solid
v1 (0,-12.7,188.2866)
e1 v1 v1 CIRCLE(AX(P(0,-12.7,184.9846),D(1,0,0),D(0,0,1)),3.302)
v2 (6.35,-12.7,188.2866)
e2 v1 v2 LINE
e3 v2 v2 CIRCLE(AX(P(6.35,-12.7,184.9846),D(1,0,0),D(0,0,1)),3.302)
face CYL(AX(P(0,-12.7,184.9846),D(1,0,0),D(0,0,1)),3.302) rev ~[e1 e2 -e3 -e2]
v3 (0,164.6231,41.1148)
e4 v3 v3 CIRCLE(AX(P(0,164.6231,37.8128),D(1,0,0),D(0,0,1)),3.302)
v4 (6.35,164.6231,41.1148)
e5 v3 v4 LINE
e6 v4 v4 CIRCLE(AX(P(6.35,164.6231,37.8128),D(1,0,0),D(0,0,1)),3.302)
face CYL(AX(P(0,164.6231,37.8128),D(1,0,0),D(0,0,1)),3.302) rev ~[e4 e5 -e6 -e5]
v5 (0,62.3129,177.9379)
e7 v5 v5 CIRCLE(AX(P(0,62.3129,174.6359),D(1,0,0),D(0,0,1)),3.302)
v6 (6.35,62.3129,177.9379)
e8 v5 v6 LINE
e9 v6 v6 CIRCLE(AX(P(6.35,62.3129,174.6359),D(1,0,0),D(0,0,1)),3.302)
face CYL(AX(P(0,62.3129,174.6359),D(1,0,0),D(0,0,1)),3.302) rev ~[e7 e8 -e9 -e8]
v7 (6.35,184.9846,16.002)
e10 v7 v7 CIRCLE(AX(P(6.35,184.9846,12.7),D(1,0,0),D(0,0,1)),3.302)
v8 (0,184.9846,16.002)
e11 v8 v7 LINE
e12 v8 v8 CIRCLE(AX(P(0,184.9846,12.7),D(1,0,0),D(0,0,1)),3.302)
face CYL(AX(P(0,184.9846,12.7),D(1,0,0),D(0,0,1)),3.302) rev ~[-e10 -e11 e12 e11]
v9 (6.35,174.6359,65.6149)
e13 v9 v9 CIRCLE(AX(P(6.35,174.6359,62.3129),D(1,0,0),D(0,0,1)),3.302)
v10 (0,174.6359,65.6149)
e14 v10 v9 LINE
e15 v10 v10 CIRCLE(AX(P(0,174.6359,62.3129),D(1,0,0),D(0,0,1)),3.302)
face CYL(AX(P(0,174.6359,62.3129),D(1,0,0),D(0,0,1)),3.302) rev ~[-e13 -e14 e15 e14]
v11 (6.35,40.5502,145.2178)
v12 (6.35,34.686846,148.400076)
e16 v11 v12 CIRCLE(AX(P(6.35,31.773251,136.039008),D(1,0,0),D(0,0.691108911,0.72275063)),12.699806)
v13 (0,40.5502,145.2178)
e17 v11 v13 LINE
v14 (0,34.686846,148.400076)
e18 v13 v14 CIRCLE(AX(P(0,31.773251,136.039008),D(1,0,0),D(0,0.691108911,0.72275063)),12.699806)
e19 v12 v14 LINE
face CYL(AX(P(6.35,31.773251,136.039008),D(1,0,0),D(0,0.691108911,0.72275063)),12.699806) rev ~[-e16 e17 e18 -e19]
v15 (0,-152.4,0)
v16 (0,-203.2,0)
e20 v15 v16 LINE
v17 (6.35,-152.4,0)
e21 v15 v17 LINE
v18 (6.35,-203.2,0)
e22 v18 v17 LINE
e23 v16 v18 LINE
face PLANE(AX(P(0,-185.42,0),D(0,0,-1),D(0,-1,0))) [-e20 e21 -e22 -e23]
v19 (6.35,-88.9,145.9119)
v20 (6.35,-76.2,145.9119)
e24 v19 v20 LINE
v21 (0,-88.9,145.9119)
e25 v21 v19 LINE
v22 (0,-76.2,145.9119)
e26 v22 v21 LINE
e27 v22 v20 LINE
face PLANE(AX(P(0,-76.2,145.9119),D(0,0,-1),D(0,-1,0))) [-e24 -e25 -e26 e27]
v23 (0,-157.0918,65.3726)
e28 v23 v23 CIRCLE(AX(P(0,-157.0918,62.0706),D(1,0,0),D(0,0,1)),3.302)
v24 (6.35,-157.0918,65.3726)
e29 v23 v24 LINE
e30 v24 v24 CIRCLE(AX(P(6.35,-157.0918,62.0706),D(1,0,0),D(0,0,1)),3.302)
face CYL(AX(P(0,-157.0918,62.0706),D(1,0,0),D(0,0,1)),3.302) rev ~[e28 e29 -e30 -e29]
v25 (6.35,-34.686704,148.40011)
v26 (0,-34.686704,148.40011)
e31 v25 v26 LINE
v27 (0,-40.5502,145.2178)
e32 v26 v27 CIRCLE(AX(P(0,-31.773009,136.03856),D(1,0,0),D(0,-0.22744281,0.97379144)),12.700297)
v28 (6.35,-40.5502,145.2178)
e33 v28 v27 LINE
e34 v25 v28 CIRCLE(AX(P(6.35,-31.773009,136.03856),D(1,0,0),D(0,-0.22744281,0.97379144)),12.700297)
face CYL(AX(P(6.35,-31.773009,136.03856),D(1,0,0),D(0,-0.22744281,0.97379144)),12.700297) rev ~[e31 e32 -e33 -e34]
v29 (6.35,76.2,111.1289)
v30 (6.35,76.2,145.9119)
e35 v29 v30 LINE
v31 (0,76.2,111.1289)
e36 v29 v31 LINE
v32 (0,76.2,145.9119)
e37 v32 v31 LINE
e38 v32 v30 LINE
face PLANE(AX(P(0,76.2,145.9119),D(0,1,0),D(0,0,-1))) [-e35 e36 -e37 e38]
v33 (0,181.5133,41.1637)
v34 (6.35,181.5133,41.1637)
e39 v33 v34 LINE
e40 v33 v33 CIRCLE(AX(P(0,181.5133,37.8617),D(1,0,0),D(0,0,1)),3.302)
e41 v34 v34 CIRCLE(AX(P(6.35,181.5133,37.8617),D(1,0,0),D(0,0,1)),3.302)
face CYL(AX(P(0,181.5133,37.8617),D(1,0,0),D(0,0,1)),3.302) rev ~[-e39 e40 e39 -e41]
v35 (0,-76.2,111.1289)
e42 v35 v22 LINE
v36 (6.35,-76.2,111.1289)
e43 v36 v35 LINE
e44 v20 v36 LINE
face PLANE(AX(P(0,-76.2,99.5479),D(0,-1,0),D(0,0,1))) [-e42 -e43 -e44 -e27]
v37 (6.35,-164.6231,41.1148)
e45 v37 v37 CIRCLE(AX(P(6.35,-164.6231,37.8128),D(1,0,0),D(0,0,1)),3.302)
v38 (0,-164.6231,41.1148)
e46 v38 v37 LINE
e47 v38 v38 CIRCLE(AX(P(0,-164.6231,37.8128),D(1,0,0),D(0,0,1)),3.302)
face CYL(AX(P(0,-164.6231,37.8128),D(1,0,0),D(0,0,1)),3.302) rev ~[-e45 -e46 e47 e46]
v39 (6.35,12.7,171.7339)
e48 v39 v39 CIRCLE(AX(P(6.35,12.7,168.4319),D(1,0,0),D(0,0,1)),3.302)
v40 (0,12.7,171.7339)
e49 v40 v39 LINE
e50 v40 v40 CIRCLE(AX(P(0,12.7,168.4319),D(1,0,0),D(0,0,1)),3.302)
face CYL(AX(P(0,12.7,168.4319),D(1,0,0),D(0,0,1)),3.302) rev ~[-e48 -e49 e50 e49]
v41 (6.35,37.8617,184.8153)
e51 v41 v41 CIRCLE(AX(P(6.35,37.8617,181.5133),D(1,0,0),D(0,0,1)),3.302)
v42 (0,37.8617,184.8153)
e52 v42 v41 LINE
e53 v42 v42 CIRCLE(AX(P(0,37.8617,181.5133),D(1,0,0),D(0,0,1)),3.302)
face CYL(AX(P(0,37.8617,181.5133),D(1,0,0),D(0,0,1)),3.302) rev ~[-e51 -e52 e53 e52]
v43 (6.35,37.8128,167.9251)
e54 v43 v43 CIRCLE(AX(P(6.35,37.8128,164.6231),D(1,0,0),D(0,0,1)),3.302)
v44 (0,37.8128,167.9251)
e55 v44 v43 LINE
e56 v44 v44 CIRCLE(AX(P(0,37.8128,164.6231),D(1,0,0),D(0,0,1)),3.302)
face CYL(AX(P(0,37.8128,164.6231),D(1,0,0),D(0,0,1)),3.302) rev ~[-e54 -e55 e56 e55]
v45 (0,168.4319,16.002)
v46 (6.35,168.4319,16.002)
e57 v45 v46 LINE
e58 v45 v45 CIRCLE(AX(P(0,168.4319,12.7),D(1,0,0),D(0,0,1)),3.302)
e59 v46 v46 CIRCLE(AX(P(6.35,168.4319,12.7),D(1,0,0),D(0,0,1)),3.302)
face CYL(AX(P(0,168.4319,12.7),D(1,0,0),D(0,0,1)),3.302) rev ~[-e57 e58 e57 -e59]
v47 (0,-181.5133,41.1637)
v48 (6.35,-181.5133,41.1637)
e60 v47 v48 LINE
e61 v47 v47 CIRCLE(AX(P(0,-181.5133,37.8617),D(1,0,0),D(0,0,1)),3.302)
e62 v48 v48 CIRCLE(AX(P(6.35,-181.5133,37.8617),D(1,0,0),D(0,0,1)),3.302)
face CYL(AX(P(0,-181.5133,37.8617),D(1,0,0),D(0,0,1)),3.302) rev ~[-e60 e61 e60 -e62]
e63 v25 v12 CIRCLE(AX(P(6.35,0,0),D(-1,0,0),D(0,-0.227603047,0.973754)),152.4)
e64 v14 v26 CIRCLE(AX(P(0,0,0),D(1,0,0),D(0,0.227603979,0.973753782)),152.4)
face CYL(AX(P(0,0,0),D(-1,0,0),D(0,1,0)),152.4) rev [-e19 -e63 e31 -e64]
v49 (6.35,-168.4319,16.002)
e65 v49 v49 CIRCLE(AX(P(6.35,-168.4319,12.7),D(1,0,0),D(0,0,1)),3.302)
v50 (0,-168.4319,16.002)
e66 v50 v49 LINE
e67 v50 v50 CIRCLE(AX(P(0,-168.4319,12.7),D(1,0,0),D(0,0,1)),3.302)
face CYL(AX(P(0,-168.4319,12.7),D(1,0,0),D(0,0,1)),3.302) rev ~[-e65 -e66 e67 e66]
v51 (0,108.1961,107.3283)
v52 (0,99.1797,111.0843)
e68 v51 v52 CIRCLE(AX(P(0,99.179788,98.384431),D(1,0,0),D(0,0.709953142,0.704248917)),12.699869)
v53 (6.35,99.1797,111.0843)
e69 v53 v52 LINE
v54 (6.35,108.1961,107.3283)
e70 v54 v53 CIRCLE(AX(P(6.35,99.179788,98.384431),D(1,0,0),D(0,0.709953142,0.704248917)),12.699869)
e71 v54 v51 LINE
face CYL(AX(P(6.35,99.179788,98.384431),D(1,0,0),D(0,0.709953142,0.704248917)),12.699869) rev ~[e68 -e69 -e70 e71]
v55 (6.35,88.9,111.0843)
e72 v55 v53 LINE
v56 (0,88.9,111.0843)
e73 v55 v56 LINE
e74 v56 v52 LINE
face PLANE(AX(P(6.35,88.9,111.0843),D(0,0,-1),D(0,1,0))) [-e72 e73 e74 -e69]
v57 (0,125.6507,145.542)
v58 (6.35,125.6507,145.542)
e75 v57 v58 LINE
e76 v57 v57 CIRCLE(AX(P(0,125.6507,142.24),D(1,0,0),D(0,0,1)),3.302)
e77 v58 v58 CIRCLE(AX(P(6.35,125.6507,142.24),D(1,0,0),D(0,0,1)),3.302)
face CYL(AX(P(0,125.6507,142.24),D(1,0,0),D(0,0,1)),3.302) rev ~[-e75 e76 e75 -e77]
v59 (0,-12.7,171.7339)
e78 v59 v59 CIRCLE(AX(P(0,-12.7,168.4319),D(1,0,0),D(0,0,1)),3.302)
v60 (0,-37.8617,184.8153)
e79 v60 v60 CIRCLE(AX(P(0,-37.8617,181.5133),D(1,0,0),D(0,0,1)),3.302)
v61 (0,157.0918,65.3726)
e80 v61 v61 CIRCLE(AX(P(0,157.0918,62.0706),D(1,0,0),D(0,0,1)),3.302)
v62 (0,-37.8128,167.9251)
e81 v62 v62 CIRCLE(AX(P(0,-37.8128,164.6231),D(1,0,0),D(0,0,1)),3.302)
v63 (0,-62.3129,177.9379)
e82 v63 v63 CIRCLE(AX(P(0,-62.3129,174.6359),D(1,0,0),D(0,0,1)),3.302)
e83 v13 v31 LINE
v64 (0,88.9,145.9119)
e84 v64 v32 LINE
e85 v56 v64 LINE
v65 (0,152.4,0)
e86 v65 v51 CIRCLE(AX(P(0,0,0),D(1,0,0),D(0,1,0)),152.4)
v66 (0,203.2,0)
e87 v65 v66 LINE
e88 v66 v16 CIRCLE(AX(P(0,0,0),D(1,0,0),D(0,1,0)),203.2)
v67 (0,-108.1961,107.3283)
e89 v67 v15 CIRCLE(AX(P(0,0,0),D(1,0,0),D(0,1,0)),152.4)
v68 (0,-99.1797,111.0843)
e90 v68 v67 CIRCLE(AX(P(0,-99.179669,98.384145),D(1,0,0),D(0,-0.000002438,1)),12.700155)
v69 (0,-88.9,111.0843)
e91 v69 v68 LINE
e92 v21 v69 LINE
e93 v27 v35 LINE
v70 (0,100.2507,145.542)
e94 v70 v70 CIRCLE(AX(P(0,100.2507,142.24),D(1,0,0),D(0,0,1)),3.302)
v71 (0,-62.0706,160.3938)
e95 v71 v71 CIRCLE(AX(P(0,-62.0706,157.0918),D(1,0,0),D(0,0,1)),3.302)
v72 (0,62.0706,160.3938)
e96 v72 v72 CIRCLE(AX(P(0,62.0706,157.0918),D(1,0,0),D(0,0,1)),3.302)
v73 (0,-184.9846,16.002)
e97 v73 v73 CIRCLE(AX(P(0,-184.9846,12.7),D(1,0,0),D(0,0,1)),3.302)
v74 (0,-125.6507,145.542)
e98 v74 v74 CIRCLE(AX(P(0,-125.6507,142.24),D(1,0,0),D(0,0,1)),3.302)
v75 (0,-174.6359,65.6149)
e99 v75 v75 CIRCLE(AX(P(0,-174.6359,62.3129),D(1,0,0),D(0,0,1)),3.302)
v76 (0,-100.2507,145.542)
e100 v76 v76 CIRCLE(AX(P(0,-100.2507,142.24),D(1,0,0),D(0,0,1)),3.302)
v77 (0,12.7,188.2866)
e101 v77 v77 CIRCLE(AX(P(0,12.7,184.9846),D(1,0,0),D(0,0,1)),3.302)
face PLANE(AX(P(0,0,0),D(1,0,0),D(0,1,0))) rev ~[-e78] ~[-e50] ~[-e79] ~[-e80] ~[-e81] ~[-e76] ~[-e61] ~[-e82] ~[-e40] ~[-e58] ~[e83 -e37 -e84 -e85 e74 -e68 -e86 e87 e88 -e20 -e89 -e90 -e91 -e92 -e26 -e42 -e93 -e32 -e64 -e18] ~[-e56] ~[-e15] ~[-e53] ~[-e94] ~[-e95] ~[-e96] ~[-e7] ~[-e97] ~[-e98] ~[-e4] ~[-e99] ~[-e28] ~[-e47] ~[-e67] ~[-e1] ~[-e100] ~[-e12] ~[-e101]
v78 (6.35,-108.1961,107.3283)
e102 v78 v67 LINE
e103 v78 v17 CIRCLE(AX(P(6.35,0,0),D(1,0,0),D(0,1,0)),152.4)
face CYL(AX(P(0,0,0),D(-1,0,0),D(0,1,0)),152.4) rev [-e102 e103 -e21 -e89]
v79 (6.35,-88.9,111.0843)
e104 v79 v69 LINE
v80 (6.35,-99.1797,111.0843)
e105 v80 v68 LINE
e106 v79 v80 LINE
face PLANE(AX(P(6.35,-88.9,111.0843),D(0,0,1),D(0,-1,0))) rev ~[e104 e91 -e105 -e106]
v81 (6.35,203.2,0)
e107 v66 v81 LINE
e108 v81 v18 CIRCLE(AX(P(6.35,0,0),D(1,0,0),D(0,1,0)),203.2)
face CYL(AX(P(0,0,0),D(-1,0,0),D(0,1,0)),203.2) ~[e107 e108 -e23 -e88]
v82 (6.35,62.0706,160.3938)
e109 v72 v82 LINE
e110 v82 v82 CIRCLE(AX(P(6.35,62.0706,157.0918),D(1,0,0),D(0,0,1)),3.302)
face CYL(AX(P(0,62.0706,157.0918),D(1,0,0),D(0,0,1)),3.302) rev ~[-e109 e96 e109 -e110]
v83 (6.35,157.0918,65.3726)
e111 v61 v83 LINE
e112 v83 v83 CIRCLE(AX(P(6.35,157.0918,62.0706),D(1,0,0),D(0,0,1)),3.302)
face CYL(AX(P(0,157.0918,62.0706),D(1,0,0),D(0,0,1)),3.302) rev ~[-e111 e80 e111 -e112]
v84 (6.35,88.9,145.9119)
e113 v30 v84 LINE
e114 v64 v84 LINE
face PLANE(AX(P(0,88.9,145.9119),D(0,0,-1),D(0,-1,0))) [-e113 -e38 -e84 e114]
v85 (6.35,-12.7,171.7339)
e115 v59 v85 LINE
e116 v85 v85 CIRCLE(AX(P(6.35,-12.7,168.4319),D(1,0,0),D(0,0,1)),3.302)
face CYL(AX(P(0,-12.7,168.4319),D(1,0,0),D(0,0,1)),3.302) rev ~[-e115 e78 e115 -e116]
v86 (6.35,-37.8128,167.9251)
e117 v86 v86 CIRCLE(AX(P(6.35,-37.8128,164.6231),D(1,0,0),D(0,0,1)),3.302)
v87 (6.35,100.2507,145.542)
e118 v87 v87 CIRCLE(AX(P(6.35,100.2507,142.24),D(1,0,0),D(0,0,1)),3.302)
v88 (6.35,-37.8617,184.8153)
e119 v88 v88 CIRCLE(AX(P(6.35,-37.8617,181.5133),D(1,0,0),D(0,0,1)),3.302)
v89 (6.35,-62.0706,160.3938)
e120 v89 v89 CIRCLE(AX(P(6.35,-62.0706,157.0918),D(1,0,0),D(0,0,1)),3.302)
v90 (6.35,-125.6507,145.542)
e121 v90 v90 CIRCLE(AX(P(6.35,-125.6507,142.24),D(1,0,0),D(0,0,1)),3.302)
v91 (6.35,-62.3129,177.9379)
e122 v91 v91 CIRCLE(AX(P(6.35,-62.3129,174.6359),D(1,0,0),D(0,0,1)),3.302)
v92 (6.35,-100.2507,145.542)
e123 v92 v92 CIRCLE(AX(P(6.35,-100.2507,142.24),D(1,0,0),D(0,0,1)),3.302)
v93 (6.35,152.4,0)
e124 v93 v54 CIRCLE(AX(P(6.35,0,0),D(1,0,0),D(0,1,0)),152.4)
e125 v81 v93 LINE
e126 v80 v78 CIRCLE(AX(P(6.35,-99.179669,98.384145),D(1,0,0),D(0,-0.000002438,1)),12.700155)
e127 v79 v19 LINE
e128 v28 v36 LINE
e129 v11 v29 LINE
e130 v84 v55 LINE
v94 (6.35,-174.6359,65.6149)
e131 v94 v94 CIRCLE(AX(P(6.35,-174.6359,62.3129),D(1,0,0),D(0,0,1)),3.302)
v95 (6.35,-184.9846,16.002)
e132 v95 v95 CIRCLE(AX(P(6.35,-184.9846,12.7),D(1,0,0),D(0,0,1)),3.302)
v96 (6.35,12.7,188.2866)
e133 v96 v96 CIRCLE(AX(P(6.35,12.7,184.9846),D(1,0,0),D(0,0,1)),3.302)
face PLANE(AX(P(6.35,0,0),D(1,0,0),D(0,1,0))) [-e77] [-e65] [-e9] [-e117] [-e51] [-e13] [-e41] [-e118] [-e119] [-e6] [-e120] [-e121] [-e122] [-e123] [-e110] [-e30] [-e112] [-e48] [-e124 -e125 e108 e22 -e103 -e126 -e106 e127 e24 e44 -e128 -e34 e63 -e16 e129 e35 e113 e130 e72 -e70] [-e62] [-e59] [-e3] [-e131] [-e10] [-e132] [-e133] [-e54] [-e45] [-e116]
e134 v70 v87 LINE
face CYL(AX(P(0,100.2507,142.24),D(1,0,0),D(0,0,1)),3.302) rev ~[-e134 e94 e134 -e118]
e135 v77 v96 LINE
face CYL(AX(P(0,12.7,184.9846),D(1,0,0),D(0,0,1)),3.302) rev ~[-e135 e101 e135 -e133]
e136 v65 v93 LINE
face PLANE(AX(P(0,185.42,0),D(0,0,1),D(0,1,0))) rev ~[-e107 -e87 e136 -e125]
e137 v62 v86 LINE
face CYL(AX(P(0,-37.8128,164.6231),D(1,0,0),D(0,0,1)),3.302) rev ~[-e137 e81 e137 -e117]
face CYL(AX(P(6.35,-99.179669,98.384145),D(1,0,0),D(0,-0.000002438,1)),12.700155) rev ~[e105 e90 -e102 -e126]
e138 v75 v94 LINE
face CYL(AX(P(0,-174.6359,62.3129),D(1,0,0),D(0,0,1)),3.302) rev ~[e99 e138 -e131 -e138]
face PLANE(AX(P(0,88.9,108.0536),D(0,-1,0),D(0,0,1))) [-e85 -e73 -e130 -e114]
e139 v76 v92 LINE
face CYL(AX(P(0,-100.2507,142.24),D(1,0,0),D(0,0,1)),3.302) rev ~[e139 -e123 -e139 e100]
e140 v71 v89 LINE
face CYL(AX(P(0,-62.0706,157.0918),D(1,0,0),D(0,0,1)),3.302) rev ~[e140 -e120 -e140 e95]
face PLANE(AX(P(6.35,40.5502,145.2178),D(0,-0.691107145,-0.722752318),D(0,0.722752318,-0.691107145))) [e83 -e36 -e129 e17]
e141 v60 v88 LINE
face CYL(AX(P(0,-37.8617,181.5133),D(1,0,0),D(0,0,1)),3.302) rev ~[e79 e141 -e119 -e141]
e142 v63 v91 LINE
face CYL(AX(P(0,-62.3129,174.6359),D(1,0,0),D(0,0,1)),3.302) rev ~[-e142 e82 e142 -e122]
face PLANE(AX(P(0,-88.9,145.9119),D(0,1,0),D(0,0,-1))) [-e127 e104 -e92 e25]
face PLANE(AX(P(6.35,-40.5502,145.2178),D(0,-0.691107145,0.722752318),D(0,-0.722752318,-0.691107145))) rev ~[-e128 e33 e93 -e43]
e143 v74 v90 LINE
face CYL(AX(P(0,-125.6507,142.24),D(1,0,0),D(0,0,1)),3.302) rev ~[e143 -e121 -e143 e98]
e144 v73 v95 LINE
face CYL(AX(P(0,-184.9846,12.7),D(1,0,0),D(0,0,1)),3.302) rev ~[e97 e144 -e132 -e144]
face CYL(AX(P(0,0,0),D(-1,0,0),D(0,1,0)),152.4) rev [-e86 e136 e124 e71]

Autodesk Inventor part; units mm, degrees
ref_plane "YZ Plane" through (0, 0, 0) normal (1, 0, 0) x (0, 1, 0)
ref_plane "XZ Plane" through (0, 0, 0) normal (0, 1, 0) x (-1, 0, 0)
ref_plane "XY Plane" through (0, 0, 0) normal (0, 0, 1) x (1, 0, 0)
sketch "Sketch1" plane through (0, 0, 0) normal (1, 0, 0) x (0, 1, 0)
  arc A0 (203.2, 0) -> (-203.2, 0) centre (0, 0) ccw
  arc A1 (152.4, 0) -> (-152.4, 0) centre (0, 0) ccw
  arc A2 (185.42, 0) -> (-185.42, 0) centre (0, 0) ccw
  line L0 (0, 0) -> (152.4, 0) construction
  line L1 (0, 0) -> (220.2471, 220.2471) construction
  line L2 (0, 0) -> (-217.8171, 217.8171) construction
  line L3 (0, 0) -> (-152.4, 0) construction
  line L4 (203.2, 0) -> (418.8667, 0) construction
  line L5 (152.4, 0) -> (-185.42, 0)
  line L6 (-203.2, 0) -> (-272.3039, 0)
  line L7 (-185.42, 0) -> (-203.2, 0)
  line L8 (-152.4, 0) -> (-203.2, 0)
  line L9 (152.4, 0) -> (203.2, 0)
  arc A3 (168.91, 0) -> (-168.91, 0) centre (0, 0) ccw
  point P0 (181.5133, 37.8617)
  point P1 (184.9846, 12.7)
  point P2 (164.6231, 37.8128)
  point P3 (168.4319, 12.7)
  point P4 (174.6359, 62.3129)
  point P5 (157.0918, 62.0706)
  point P6 (37.8617, 181.5133)
  point P7 (12.7, 184.9846)
  point P8 (37.8128, 164.6231)
  point P9 (12.7, 168.4319)
  point P10 (62.3129, 174.6359)
  point P11 (62.0706, 157.0918)
  point P12 (-62.3129, 174.6359)
  point P13 (-37.8617, 181.5133)
  point P14 (-62.0706, 157.0918)
  point P15 (-37.8128, 164.6231)
  point P16 (-12.7, 168.4319)
  point P17 (-12.7, 184.9846)
  point P18 (-157.0918, 62.0706)
  point P19 (-174.6359, 62.3129)
  point P20 (-181.5133, 37.8617)
  point P21 (-164.6231, 37.8128)
  point P22 (-168.4319, 12.7)
  point P23 (-184.9846, 12.7)
  dimension "d0" = 406.4
  dimension "d2" = 304.8
  dimension "d3" = 370.84
  dimension "d5" = 50.8
  dimension "d6" = 25.4
  dimension "d7" = 25.4
  dimension "d8" = 12.7
  dimension "d9" = 12.7
  dimension "d10" = 25.4
  dimension "d11" = 25.4
  dimension "d12" = 45
  dimension "d13" = 45
extrude "Extrusion1" add sketch "Sketch1" along normal blind 6.35 contours L9 A2 L7 A0 | L9 A3 L5 A2 | L9 A1 L5 A3
hole "Hole1" at (0, 181.5133, 37.8617) at (0, 184.9846, 12.7) at (0, 164.6231, 37.8128) at (0, 168.4319, 12.7) at (0, 174.6359, 62.3129) at (0, 157.0918, 62.0706) at (0, 62.3129, 174.6359) at (0, 37.8617, 181.5133) at (0, 62.0706, 157.0918) at (0, 37.8128, 164.6231) at (0, 12.7, 168.4319) at (0, 12.7, 184.9846) at (0, -62.0706, 157.0918) at (0, -62.3129, 174.6359) at (0, -37.8617, 181.5133) at (0, -37.8128, 164.6231) at (0, -12.7, 168.4319) at (0, -12.7, 184.9846) at (0, -184.9846, 12.7) at (0, -168.4319, 12.7) at (0, -181.5133, 37.8617) at (0, -164.6231, 37.8128) at (0, -174.6359, 62.3129) at (0, -157.0918, 62.0706) direction (1, 0, 0) diameter 6.604 end through all
sketch "Sketch4" plane through (0, 0, 0) normal (-1, 0, 0) x (0, 0, 1)
  line L0 (127, 92.2547) -> (157.48, 92.2547) projected
  line L1 (157.48, 150.1234) -> (157.48, 92.2547) projected
  line L2 (143.2518, 198.5102) -> (157.48, 150.1234) projected
  arc A0 (143.2518, 198.5102) -> (131.3752, 213.4606) centre (118.8834, 191.3446) ccw projected
  line L3 (127, 215.9318) -> (131.3752, 213.4606) projected
  line L4 (127, 92.2547) -> (127, 215.9318) projected
  circle A1 centre (142.24, 125.6507) radius 3.302 projected
  circle A2 centre (142.24, 100.2507) radius 3.302 projected
  circle A3 centre (142.24, -100.2507) radius 3.302 projected
  circle A4 centre (-142.24, -100.2507) radius 3.302 projected
  circle A5 centre (-142.24, -125.6507) radius 3.302 projected
  circle A6 centre (142.24, -125.6507) radius 3.302 projected
  line L5 (114.3, -183.162) -> (127, -183.162) projected
  line L6 (127, -183.162) -> (163.2323, -141.3083) projected
  arc A7 (163.2323, -141.3083) -> (215.9, 0) centre (0, 0) ccw projected
  line L7 (152.4, 0) -> (215.9, 0) projected
  arc A8 (-152.4, 0) -> (152.4, 0) centre (0, 0) ccw projected
  line L8 (-215.9, 0) -> (-152.4, 0) projected
  arc A9 (-215.9, 0) -> (-163.2323, -141.3083) centre (0, 0) ccw projected
  line L9 (-163.2323, -141.3083) -> (-127, -183.162) projected
  line L10 (-127, -183.162) -> (-114.3, -183.162) projected
  line L11 (-114.3, -183.162) -> (-114.3, -195.862) projected
  line L12 (-114.3, -195.862) -> (-46.5518, -210.8216) projected
  arc A10 (-46.5518, -210.8216) -> (46.5518, -210.8216) centre (0, 0) ccw projected
  line L13 (46.5518, -210.8216) -> (114.3, -195.862) projected
  line L14 (114.3, -195.862) -> (114.3, -183.162) projected
  circle A11 centre (174.6359, -62.3129) radius 3.302 projected
  circle A12 centre (181.5133, -37.8617) radius 3.302 projected
  circle A13 centre (184.9846, -12.7) radius 3.302 projected
  circle A14 centre (12.7, -168.4319) radius 3.302 projected
  circle A15 centre (37.8617, -181.5133) radius 3.302 projected
  circle A16 centre (62.0706, -157.0918) radius 3.302 projected
  circle A17 centre (-12.7, -168.4319) radius 3.302 projected
  circle A18 centre (-62.0706, -157.0918) radius 3.302 projected
  circle A19 centre (-62.3129, -174.6359) radius 3.302 projected
  circle A20 centre (-174.6359, -62.3129) radius 3.302 projected
  circle A21 centre (-164.6231, -37.8128) radius 3.302 projected
  circle A22 centre (-181.5133, -37.8617) radius 3.302 projected
  circle A23 centre (-184.9846, -12.7) radius 3.302 projected
  circle A24 centre (-168.4319, -12.7) radius 3.302 projected
  circle A25 centre (-157.0918, -62.0706) radius 3.302 projected
  circle A26 centre (-37.8617, -181.5133) radius 3.302 projected
  circle A27 centre (-37.8128, -164.6231) radius 3.302 projected
  circle A28 centre (-12.7, -184.9846) radius 3.302 projected
  circle A29 centre (62.3129, -174.6359) radius 3.302 projected
  circle A30 centre (37.8128, -164.6231) radius 3.302 projected
  circle A31 centre (12.7, -184.9846) radius 3.302 projected
  circle A32 centre (168.4319, -12.7) radius 3.302 projected
  circle A33 centre (164.6231, -37.8128) radius 3.302 projected
  circle A34 centre (157.0918, -62.0706) radius 3.302 projected
  point P0 (0, 0)
hole "Hole4" at (0, -125.6507, 142.24) at (0, -100.2507, 142.24) at (0, 100.2507, 142.24) at (0, 125.6507, 142.24) direction (1, 0, 0) diameter 6.604 end through all
sketch "Sketch5" plane through (0, 0, 0) normal (-1, 0, 0) x (0, 0, 1)
  line L0 (-145.9119, -88.9) -> (-106.6761, -88.9)
  line L1 (-106.6761, -88.9) -> (-106.6761, -76.2)
  line L2 (-106.6761, -76.2) -> (-145.9119, -76.2)
  line L3 (-145.9119, -76.2) -> (-145.9119, -88.9)
  line L4 (145.9119, -88.9) -> (99.5479, -88.9)
  line L5 (99.5479, -88.9) -> (99.5479, -76.2)
  line L6 (99.5479, -76.2) -> (145.9119, -76.2)
  line L7 (145.9119, -76.2) -> (145.9119, -88.9)
  line L8 (145.9119, 88.9) -> (145.9119, 76.2) projected
  line L9 (145.9119, 76.2) -> (108.0536, 76.2)
  line L10 (108.0536, 76.2) -> (108.0536, 88.9)
  line L11 (108.0536, 88.9) -> (145.9119, 88.9)
  line L12 (145.9119, 88.9) -> (145.9119, 76.2)
  point P0 (0, 0)
extrude "Extrusion3" cut sketch "Sketch5" against normal blind 25.4 contours L4 L5 L6 L7 | L8 L9 L10 L11
sketch "Sketch6" plane through (6.35, 0, 0) normal (1, 0, 0) x (0, 0, -1)
  circle A0 centre (-157.0918, 62.0706) radius 3.302 projected
  circle A1 centre (-164.6231, 37.8128) radius 3.302 projected
  circle A2 centre (-168.4319, 12.7) radius 3.302 projected
  circle A3 centre (-12.7, 184.9846) radius 3.302 projected
  circle A4 centre (-37.8128, 164.6231) radius 3.302 projected
  circle A5 centre (-62.3129, 174.6359) radius 3.302 projected
  circle A6 centre (12.7, 184.9846) radius 3.302 projected
  circle A7 centre (37.8128, 164.6231) radius 3.302 projected
  circle A8 centre (37.8617, 181.5133) radius 3.302 projected
  circle A9 centre (157.0918, 62.0706) radius 3.302 projected
  circle A10 centre (168.4319, 12.7) radius 3.302 projected
  circle A11 centre (184.9846, 12.7) radius 3.302 projected
  circle A12 centre (181.5133, 37.8617) radius 3.302 projected
  circle A13 centre (164.6231, 37.8128) radius 3.302 projected
  circle A14 centre (174.6359, 62.3129) radius 3.302 projected
  circle A15 centre (62.3129, 174.6359) radius 3.302 projected
  circle A16 centre (62.0706, 157.0918) radius 3.302 projected
  circle A17 centre (12.7, 168.4319) radius 3.302 projected
  circle A18 centre (-62.0706, 157.0918) radius 3.302 projected
  circle A19 centre (-37.8617, 181.5133) radius 3.302 projected
  circle A20 centre (-12.7, 168.4319) radius 3.302 projected
  circle A21 centre (-184.9846, 12.7) radius 3.302 projected
  circle A22 centre (-181.5133, 37.8617) radius 3.302 projected
  circle A23 centre (-174.6359, 62.3129) radius 3.302 projected
  line L0 (-123.8289, 76.2) -> (-145.9119, 76.2) projected
  line L1 (-145.9119, 76.2) -> (-145.9119, 88.9) projected
  line L2 (-145.9119, 88.9) -> (-123.7843, 88.9) projected
  arc A24 (123.7843, 88.9) -> (-123.7843, 88.9) centre (0, 0) ccw projected
  line L3 (123.7843, 88.9) -> (145.9119, 88.9) projected
  line L4 (145.9119, 88.9) -> (145.9119, 76.2) projected
  line L5 (145.9119, 76.2) -> (123.825, 76.2) projected
  line L6 (123.825, 76.2) -> (147.5607, 38.1) projected
  arc A25 (152.4, 0) -> (147.5607, 38.1) centre (0, 0) ccw projected
  line L7 (215.9, 0) -> (152.4, 0) projected
  arc A26 (215.9, 0) -> (163.2323, 141.3083) centre (0, 0) ccw projected
  line L8 (163.2323, 141.3083) -> (127, 183.162) projected
  line L9 (127, 183.162) -> (114.3, 183.162) projected
  line L10 (114.3, 183.162) -> (114.3, 195.862) projected
  line L11 (114.3, 195.862) -> (46.5518, 210.8216) projected
  arc A27 (46.5518, 210.8216) -> (-46.5518, 210.8216) centre (0, 0) ccw projected
  line L12 (-46.5518, 210.8216) -> (-114.3, 195.862) projected
  line L13 (-114.3, 195.862) -> (-114.3, 183.162) projected
  line L14 (-114.3, 183.162) -> (-127, 183.162) projected
  line L15 (-127, 183.162) -> (-163.2323, 141.3083) projected
  arc A28 (-163.2323, 141.3083) -> (-215.9, 0) centre (0, 0) ccw projected
  line L16 (-152.4, 0) -> (-215.9, 0) projected
  arc A29 (-147.5607, 38.1) -> (-152.4, 0) centre (0, 0) ccw projected
  line L17 (-147.5607, 38.1) -> (-123.8289, 76.2) projected
  circle A30 centre (-142.24, 125.6507) radius 3.302 projected
  circle A31 centre (142.24, 125.6507) radius 3.302 projected
  circle A32 centre (142.24, 100.2507) radius 3.302 projected
  circle A33 centre (-142.24, 100.2507) radius 3.302 projected
  circle A34 centre (157.0918, -62.0706) radius 3.302 projected
  circle A35 centre (164.6231, -37.8128) radius 3.302 projected
  circle A36 centre (168.4319, -12.7) radius 3.302 projected
  circle A37 centre (12.7, -184.9846) radius 3.302 projected
  circle A38 centre (37.8128, -164.6231) radius 3.302 projected
  circle A39 centre (62.3129, -174.6359) radius 3.302 projected
  circle A40 centre (-12.7, -184.9846) radius 3.302 projected
  circle A41 centre (-37.8128, -164.6231) radius 3.302 projected
  circle A42 centre (-37.8617, -181.5133) radius 3.302 projected
  circle A43 centre (-157.0918, -62.0706) radius 3.302 projected
  circle A44 centre (-168.4319, -12.7) radius 3.302 projected
  circle A45 centre (-184.9846, -12.7) radius 3.302 projected
  circle A46 centre (-181.5133, -37.8617) radius 3.302 projected
  circle A47 centre (-164.6231, -37.8128) radius 3.302 projected
  circle A48 centre (-174.6359, -62.3129) radius 3.302 projected
  circle A49 centre (-62.3129, -174.6359) radius 3.302 projected
  circle A50 centre (-62.0706, -157.0918) radius 3.302 projected
  circle A51 centre (-12.7, -168.4319) radius 3.302 projected
  circle A52 centre (62.0706, -157.0918) radius 3.302 projected
  circle A53 centre (37.8617, -181.5133) radius 3.302 projected
  circle A54 centre (12.7, -168.4319) radius 3.302 projected
  circle A55 centre (184.9846, -12.7) radius 3.302 projected
  circle A56 centre (181.5133, -37.8617) radius 3.302 projected
  circle A57 centre (174.6359, -62.3129) radius 3.302 projected
  line L18 (123.8289, -76.2) -> (145.9119, -76.2) projected
  line L19 (145.9119, -76.2) -> (145.9119, -88.9) projected
  line L20 (145.9119, -88.9) -> (123.7843, -88.9) projected
  arc A58 (-123.7843, -88.9) -> (123.7843, -88.9) centre (0, 0) ccw projected
  line L21 (-123.7843, -88.9) -> (-145.9119, -88.9) projected
  line L22 (-145.9119, -88.9) -> (-145.9119, -76.2) projected
  line L23 (-145.9119, -76.2) -> (-123.825, -76.2) projected
  line L24 (-123.825, -76.2) -> (-147.5607, -38.1) projected
  arc A59 (-152.4, 0) -> (-147.5607, -38.1) centre (0, 0) ccw projected
  line L25 (-215.9, 0) -> (-152.4, 0) projected
  arc A60 (-215.9, 0) -> (-163.2323, -141.3083) centre (0, 0) ccw projected
  line L26 (-163.2323, -141.3083) -> (-127, -183.162) projected
  line L27 (-127, -183.162) -> (-114.3, -183.162) projected
  line L28 (-114.3, -183.162) -> (-114.3, -195.862) projected
  line L29 (-114.3, -195.862) -> (-46.5518, -210.8216) projected
  arc A61 (-46.5518, -210.8216) -> (46.5518, -210.8216) centre (0, 0) ccw projected
  line L30 (46.5518, -210.8216) -> (114.3, -195.862) projected
  line L31 (114.3, -195.862) -> (114.3, -183.162) projected
  line L32 (114.3, -183.162) -> (127, -183.162) projected
  line L33 (127, -183.162) -> (163.2323, -141.3083) projected
  arc A62 (163.2323, -141.3083) -> (215.9, 0) centre (0, 0) ccw projected
  line L34 (152.4, 0) -> (215.9, 0) projected
  arc A63 (147.5607, -38.1) -> (152.4, 0) centre (0, 0) ccw projected
  line L35 (147.5607, -38.1) -> (123.8289, -76.2) projected
  circle A64 centre (142.24, -125.6507) radius 3.302 projected
  circle A65 centre (-142.24, -125.6507) radius 3.302 projected
  circle A66 centre (-142.24, -100.2507) radius 3.302 projected
  circle A67 centre (142.24, -100.2507) radius 3.302 projected
  arc A68 (-131.9823, 76.2) -> (-131.9823, -76.2) centre (0, 0) ccw projected
extrude "Extrusion4" add sketch "Sketch6" against normal blind 6.35 contours L17 A68 L0 | L24 L23 A68
sketch "Sketch7" plane through (6.35, 0, 0) normal (1, 0, 0) x (0, 0, -1)
  arc A0 (152.4, 0) -> (148.406, 34.6616) centre (0, 0) ccw projected
  line L0 (215.9, 0) -> (152.4, 0) projected
  arc A1 (215.9, 0) -> (163.2323, 141.3083) centre (0, 0) ccw projected
  line L1 (163.2323, 141.3083) -> (127, 183.162) projected
  line L2 (127, 183.162) -> (114.3, 183.162) projected
  line L3 (114.3, 183.162) -> (114.3, 195.862) projected
  line L4 (114.3, 195.862) -> (46.5518, 210.8216) projected
  arc A2 (46.5518, 210.8216) -> (-46.5518, 210.8216) centre (0, 0) ccw projected
  line L5 (-46.5518, 210.8216) -> (-114.3, 195.862) projected
  line L6 (-114.3, 195.862) -> (-114.3, 183.162) projected
  line L7 (-114.3, 183.162) -> (-127, 183.162) projected
  line L8 (-127, 183.162) -> (-163.2323, 141.3083) projected
  arc A3 (-163.2323, 141.3083) -> (-215.9, 0) centre (0, 0) ccw projected
  line L9 (-152.4, 0) -> (-215.9, 0) projected
  arc A4 (-148.406, 34.6616) -> (-152.4, 0) centre (0, 0) ccw projected
  arc A5 (-145.2178, 40.5502) -> (-148.406, 34.6616) centre (-136.0388, 31.7731) ccw projected
  line L10 (-145.2178, 40.5502) -> (-111.1289, 76.2) projected
  line L11 (-111.1289, 76.2) -> (-145.9119, 76.2) projected
  line L12 (-145.9119, 76.2) -> (-145.9119, 88.9) projected
  line L13 (-145.9119, 88.9) -> (-111.0843, 88.9) projected
  line L14 (-111.0843, 88.9) -> (-111.0843, 99.1797) projected
  arc A6 (-107.3283, 108.1961) -> (-111.0843, 99.1797) centre (-98.3843, 99.1797) ccw projected
  arc A7 (107.3283, 108.1961) -> (-107.3283, 108.1961) centre (0, 0) ccw projected
  arc A8 (111.0843, 99.1797) -> (107.3283, 108.1961) centre (98.3843, 99.1797) ccw projected
  line L15 (111.0843, 88.9) -> (111.0843, 99.1797) projected
  line L16 (111.0843, 88.9) -> (145.9119, 88.9) projected
  line L17 (145.9119, 88.9) -> (145.9119, 76.2) projected
  line L18 (145.9119, 76.2) -> (111.1289, 76.2) projected
  line L19 (145.2178, 40.5502) -> (111.1289, 76.2) projected
  arc A9 (148.406, 34.6616) -> (145.2178, 40.5502) centre (136.0388, 31.7731) ccw projected
  circle A10 centre (-157.0918, 62.0706) radius 3.302 projected
  circle A11 centre (-164.6231, 37.8128) radius 3.302 projected
  circle A12 centre (-168.4319, 12.7) radius 3.302 projected
  circle A13 centre (-12.7, 184.9846) radius 3.302 projected
  circle A14 centre (-37.8128, 164.6231) radius 3.302 projected
  circle A15 centre (-62.3129, 174.6359) radius 3.302 projected
  circle A16 centre (12.7, 184.9846) radius 3.302 projected
  circle A17 centre (37.8128, 164.6231) radius 3.302 projected
  circle A18 centre (37.8617, 181.5133) radius 3.302 projected
  circle A19 centre (157.0918, 62.0706) radius 3.302 projected
  circle A20 centre (168.4319, 12.7) radius 3.302 projected
  circle A21 centre (184.9846, 12.7) radius 3.302 projected
  circle A22 centre (181.5133, 37.8617) radius 3.302 projected
  circle A23 centre (164.6231, 37.8128) radius 3.302 projected
  circle A24 centre (174.6359, 62.3129) radius 3.302 projected
  circle A25 centre (62.3129, 174.6359) radius 3.302 projected
  circle A26 centre (62.0706, 157.0918) radius 3.302 projected
  circle A27 centre (12.7, 168.4319) radius 3.302 projected
  circle A28 centre (-62.0706, 157.0918) radius 3.302 projected
  circle A29 centre (-37.8617, 181.5133) radius 3.302 projected
  circle A30 centre (-12.7, 168.4319) radius 3.302 projected
  circle A31 centre (-184.9846, 12.7) radius 3.302 projected
  circle A32 centre (-181.5133, 37.8617) radius 3.302 projected
  circle A33 centre (-174.6359, 62.3129) radius 3.302 projected
  circle A34 centre (-142.24, 125.6507) radius 3.302 projected
  circle A35 centre (142.24, 125.6507) radius 3.302 projected
  circle A36 centre (142.24, 100.2507) radius 3.302 projected
  circle A37 centre (-142.24, 100.2507) radius 3.302 projected
  arc A38 (-152.4, 0) -> (-148.406, -34.6616) centre (0, 0) ccw projected
  line L20 (-215.9, 0) -> (-152.4, 0) projected
  arc A39 (-215.9, 0) -> (-163.2323, -141.3083) centre (0, 0) ccw projected
  line L21 (-163.2323, -141.3083) -> (-127, -183.162) projected
  line L22 (-127, -183.162) -> (-114.3, -183.162) projected
  line L23 (-114.3, -183.162) -> (-114.3, -195.862) projected
  line L24 (-114.3, -195.862) -> (-46.5518, -210.8216) projected
  arc A40 (-46.5518, -210.8216) -> (46.5518, -210.8216) centre (0, 0) ccw projected
  line L25 (46.5518, -210.8216) -> (114.3, -195.862) projected
  line L26 (114.3, -195.862) -> (114.3, -183.162) projected
  line L27 (114.3, -183.162) -> (127, -183.162) projected
  line L28 (127, -183.162) -> (163.2323, -141.3083) projected
  arc A41 (163.2323, -141.3083) -> (215.9, 0) centre (0, 0) ccw projected
  line L29 (152.4, 0) -> (215.9, 0) projected
  arc A42 (148.406, -34.6616) -> (152.4, 0) centre (0, 0) ccw projected
  arc A43 (145.2178, -40.5502) -> (148.406, -34.6616) centre (136.0388, -31.7731) ccw projected
  line L30 (145.2178, -40.5502) -> (111.1289, -76.2) projected
  line L31 (111.1289, -76.2) -> (145.9119, -76.2) projected
  line L32 (145.9119, -76.2) -> (145.9119, -88.9) projected
  line L33 (145.9119, -88.9) -> (111.0843, -88.9) projected
  line L34 (111.0843, -88.9) -> (111.0843, -99.1797) projected
  arc A44 (107.3283, -108.1961) -> (111.0843, -99.1797) centre (98.3843, -99.1797) ccw projected
  arc A45 (-107.3283, -108.1961) -> (107.3283, -108.1961) centre (0, 0) ccw projected
  arc A46 (-111.0843, -99.1797) -> (-107.3283, -108.1961) centre (-98.3843, -99.1797) ccw projected
  line L35 (-111.0843, -88.9) -> (-111.0843, -99.1797) projected
  line L36 (-111.0843, -88.9) -> (-145.9119, -88.9) projected
  line L37 (-145.9119, -88.9) -> (-145.9119, -76.2) projected
  line L38 (-145.9119, -76.2) -> (-111.1289, -76.2) projected
  line L39 (-145.2178, -40.5502) -> (-111.1289, -76.2) projected
  arc A47 (-148.406, -34.6616) -> (-145.2178, -40.5502) centre (-136.0388, -31.7731) ccw projected
  circle A48 centre (157.0918, -62.0706) radius 3.302 projected
  circle A49 centre (164.6231, -37.8128) radius 3.302 projected
  circle A50 centre (168.4319, -12.7) radius 3.302 projected
  circle A51 centre (12.7, -184.9846) radius 3.302 projected
  circle A52 centre (37.8128, -164.6231) radius 3.302 projected
  circle A53 centre (62.3129, -174.6359) radius 3.302 projected
  circle A54 centre (-12.7, -184.9846) radius 3.302 projected
  circle A55 centre (-37.8128, -164.6231) radius 3.302 projected
  circle A56 centre (-37.8617, -181.5133) radius 3.302 projected
  circle A57 centre (-157.0918, -62.0706) radius 3.302 projected
  circle A58 centre (-168.4319, -12.7) radius 3.302 projected
  circle A59 centre (-184.9846, -12.7) radius 3.302 projected
  circle A60 centre (-181.5133, -37.8617) radius 3.302 projected
  circle A61 centre (-164.6231, -37.8128) radius 3.302 projected
  circle A62 centre (-174.6359, -62.3129) radius 3.302 projected
  circle A63 centre (-62.3129, -174.6359) radius 3.302 projected
  circle A64 centre (-62.0706, -157.0918) radius 3.302 projected
  circle A65 centre (-12.7, -168.4319) radius 3.302 projected
  circle A66 centre (62.0706, -157.0918) radius 3.302 projected
  circle A67 centre (37.8617, -181.5133) radius 3.302 projected
  circle A68 centre (12.7, -168.4319) radius 3.302 projected
  circle A69 centre (184.9846, -12.7) radius 3.302 projected
  circle A70 centre (181.5133, -37.8617) radius 3.302 projected
  circle A71 centre (174.6359, -62.3129) radius 3.302 projected
  circle A72 centre (142.24, -125.6507) radius 3.302 projected
  circle A73 centre (-142.24, -125.6507) radius 3.302 projected
  circle A74 centre (-142.24, -100.2507) radius 3.302 projected
  circle A75 centre (142.24, -100.2507) radius 3.302 projected
  line L40 (0, -259.08) -> (0, 43.18)
  line L41 (0, -215.9) -> (0, 215.9)
  arc A76 (152.4, 0) -> (148.406, 34.6616) centre (0, 0) ccw projected
  line L42 (215.9, 0) -> (152.4, 0) projected
  arc A77 (215.9, 0) -> (163.2323, 141.3083) centre (0, 0) ccw projected
  line L43 (163.2323, 141.3083) -> (127, 183.162) projected
  line L44 (127, 183.162) -> (114.3, 183.162) projected
  line L45 (114.3, 183.162) -> (114.3, 195.862) projected
  line L46 (114.3, 195.862) -> (46.5518, 210.8216) projected
  arc A78 (46.5518, 210.8216) -> (-46.5518, 210.8216) centre (0, 0) ccw projected
  line L47 (-46.5518, 210.8216) -> (-114.3, 195.862) projected
  line L48 (-114.3, 195.862) -> (-114.3, 183.162) projected
  line L49 (-114.3, 183.162) -> (-127, 183.162) projected
  line L50 (-127, 183.162) -> (-163.2323, 141.3083) projected
  arc A79 (-163.2323, 141.3083) -> (-215.9, 0) centre (0, 0) ccw projected
  line L51 (-152.4, 0) -> (-215.9, 0) projected
  arc A80 (-148.406, 34.6616) -> (-152.4, 0) centre (0, 0) ccw projected
  arc A81 (-145.2178, 40.5502) -> (-148.406, 34.6616) centre (-136.0388, 31.7731) ccw projected
  line L52 (-145.2178, 40.5502) -> (-111.1289, 76.2) projected
  line L53 (-111.1289, 76.2) -> (-145.9119, 76.2) projected
  line L54 (-145.9119, 76.2) -> (-145.9119, 88.9) projected
  line L55 (-145.9119, 88.9) -> (-111.0843, 88.9) projected
  line L56 (-111.0843, 88.9) -> (-111.0843, 99.1797) projected
  arc A82 (-107.3283, 108.1961) -> (-111.0843, 99.1797) centre (-98.3843, 99.1797) ccw projected
  arc A83 (107.3283, 108.1961) -> (-107.3283, 108.1961) centre (0, 0) ccw projected
  arc A84 (111.0843, 99.1797) -> (107.3283, 108.1961) centre (98.3843, 99.1797) ccw projected
  line L57 (111.0843, 88.9) -> (111.0843, 99.1797) projected
  line L58 (111.0843, 88.9) -> (145.9119, 88.9) projected
  line L59 (145.9119, 88.9) -> (145.9119, 76.2) projected
  line L60 (145.9119, 76.2) -> (111.1289, 76.2) projected
  line L61 (145.2178, 40.5502) -> (111.1289, 76.2) projected
  arc A85 (148.406, 34.6616) -> (145.2178, 40.5502) centre (136.0388, 31.7731) ccw projected
  circle A86 centre (-157.0918, 62.0706) radius 3.302 projected
  circle A87 centre (-164.6231, 37.8128) radius 3.302 projected
  circle A88 centre (-168.4319, 12.7) radius 3.302 projected
  circle A89 centre (-12.7, 184.9846) radius 3.302 projected
  circle A90 centre (-37.8128, 164.6231) radius 3.302 projected
  circle A91 centre (-62.3129, 174.6359) radius 3.302 projected
  circle A92 centre (12.7, 184.9846) radius 3.302 projected
  circle A93 centre (37.8128, 164.6231) radius 3.302 projected
  circle A94 centre (37.8617, 181.5133) radius 3.302 projected
  circle A95 centre (157.0918, 62.0706) radius 3.302 projected
  circle A96 centre (168.4319, 12.7) radius 3.302 projected
  circle A97 centre (184.9846, 12.7) radius 3.302 projected
  circle A98 centre (181.5133, 37.8617) radius 3.302 projected
  circle A99 centre (164.6231, 37.8128) radius 3.302 projected
  circle A100 centre (174.6359, 62.3129) radius 3.302 projected
  circle A101 centre (62.3129, 174.6359) radius 3.302 projected
  circle A102 centre (62.0706, 157.0918) radius 3.302 projected
  circle A103 centre (12.7, 168.4319) radius 3.302 projected
  circle A104 centre (-62.0706, 157.0918) radius 3.302 projected
  circle A105 centre (-37.8617, 181.5133) radius 3.302 projected
  circle A106 centre (-12.7, 168.4319) radius 3.302 projected
  circle A107 centre (-184.9846, 12.7) radius 3.302 projected
  circle A108 centre (-181.5133, 37.8617) radius 3.302 projected
  circle A109 centre (-174.6359, 62.3129) radius 3.302 projected
  circle A110 centre (-142.24, 125.6507) radius 3.302 projected
  circle A111 centre (142.24, 125.6507) radius 3.302 projected
  circle A112 centre (142.24, 100.2507) radius 3.302 projected
  circle A113 centre (-142.24, 100.2507) radius 3.302 projected
  arc A114 (0, 152.4) -> (-123.7843, 88.9) centre (0, 0) ccw projected
  line L62 (-147.5607, 38.1) -> (-123.8289, 76.2) projected
  line L63 (-123.825, -76.2) -> (-147.5607, -38.1) projected
  arc A115 (-147.5607, 38.1) -> (-147.5607, -38.1) centre (0, 0) ccw projected
  arc A116 (-123.7843, -88.9) -> (0, -152.4) centre (0, 0) ccw projected
extrude "Extrusion5" add sketch "Sketch7" against normal blind 6.35 contours A6 L14 L13 A114 | A116 L36 L35 A46 | L11 L10 A5 A115 L62 | L63 A115 A47 L39 L38
properties part number "16in inner coil" material "Copper"
